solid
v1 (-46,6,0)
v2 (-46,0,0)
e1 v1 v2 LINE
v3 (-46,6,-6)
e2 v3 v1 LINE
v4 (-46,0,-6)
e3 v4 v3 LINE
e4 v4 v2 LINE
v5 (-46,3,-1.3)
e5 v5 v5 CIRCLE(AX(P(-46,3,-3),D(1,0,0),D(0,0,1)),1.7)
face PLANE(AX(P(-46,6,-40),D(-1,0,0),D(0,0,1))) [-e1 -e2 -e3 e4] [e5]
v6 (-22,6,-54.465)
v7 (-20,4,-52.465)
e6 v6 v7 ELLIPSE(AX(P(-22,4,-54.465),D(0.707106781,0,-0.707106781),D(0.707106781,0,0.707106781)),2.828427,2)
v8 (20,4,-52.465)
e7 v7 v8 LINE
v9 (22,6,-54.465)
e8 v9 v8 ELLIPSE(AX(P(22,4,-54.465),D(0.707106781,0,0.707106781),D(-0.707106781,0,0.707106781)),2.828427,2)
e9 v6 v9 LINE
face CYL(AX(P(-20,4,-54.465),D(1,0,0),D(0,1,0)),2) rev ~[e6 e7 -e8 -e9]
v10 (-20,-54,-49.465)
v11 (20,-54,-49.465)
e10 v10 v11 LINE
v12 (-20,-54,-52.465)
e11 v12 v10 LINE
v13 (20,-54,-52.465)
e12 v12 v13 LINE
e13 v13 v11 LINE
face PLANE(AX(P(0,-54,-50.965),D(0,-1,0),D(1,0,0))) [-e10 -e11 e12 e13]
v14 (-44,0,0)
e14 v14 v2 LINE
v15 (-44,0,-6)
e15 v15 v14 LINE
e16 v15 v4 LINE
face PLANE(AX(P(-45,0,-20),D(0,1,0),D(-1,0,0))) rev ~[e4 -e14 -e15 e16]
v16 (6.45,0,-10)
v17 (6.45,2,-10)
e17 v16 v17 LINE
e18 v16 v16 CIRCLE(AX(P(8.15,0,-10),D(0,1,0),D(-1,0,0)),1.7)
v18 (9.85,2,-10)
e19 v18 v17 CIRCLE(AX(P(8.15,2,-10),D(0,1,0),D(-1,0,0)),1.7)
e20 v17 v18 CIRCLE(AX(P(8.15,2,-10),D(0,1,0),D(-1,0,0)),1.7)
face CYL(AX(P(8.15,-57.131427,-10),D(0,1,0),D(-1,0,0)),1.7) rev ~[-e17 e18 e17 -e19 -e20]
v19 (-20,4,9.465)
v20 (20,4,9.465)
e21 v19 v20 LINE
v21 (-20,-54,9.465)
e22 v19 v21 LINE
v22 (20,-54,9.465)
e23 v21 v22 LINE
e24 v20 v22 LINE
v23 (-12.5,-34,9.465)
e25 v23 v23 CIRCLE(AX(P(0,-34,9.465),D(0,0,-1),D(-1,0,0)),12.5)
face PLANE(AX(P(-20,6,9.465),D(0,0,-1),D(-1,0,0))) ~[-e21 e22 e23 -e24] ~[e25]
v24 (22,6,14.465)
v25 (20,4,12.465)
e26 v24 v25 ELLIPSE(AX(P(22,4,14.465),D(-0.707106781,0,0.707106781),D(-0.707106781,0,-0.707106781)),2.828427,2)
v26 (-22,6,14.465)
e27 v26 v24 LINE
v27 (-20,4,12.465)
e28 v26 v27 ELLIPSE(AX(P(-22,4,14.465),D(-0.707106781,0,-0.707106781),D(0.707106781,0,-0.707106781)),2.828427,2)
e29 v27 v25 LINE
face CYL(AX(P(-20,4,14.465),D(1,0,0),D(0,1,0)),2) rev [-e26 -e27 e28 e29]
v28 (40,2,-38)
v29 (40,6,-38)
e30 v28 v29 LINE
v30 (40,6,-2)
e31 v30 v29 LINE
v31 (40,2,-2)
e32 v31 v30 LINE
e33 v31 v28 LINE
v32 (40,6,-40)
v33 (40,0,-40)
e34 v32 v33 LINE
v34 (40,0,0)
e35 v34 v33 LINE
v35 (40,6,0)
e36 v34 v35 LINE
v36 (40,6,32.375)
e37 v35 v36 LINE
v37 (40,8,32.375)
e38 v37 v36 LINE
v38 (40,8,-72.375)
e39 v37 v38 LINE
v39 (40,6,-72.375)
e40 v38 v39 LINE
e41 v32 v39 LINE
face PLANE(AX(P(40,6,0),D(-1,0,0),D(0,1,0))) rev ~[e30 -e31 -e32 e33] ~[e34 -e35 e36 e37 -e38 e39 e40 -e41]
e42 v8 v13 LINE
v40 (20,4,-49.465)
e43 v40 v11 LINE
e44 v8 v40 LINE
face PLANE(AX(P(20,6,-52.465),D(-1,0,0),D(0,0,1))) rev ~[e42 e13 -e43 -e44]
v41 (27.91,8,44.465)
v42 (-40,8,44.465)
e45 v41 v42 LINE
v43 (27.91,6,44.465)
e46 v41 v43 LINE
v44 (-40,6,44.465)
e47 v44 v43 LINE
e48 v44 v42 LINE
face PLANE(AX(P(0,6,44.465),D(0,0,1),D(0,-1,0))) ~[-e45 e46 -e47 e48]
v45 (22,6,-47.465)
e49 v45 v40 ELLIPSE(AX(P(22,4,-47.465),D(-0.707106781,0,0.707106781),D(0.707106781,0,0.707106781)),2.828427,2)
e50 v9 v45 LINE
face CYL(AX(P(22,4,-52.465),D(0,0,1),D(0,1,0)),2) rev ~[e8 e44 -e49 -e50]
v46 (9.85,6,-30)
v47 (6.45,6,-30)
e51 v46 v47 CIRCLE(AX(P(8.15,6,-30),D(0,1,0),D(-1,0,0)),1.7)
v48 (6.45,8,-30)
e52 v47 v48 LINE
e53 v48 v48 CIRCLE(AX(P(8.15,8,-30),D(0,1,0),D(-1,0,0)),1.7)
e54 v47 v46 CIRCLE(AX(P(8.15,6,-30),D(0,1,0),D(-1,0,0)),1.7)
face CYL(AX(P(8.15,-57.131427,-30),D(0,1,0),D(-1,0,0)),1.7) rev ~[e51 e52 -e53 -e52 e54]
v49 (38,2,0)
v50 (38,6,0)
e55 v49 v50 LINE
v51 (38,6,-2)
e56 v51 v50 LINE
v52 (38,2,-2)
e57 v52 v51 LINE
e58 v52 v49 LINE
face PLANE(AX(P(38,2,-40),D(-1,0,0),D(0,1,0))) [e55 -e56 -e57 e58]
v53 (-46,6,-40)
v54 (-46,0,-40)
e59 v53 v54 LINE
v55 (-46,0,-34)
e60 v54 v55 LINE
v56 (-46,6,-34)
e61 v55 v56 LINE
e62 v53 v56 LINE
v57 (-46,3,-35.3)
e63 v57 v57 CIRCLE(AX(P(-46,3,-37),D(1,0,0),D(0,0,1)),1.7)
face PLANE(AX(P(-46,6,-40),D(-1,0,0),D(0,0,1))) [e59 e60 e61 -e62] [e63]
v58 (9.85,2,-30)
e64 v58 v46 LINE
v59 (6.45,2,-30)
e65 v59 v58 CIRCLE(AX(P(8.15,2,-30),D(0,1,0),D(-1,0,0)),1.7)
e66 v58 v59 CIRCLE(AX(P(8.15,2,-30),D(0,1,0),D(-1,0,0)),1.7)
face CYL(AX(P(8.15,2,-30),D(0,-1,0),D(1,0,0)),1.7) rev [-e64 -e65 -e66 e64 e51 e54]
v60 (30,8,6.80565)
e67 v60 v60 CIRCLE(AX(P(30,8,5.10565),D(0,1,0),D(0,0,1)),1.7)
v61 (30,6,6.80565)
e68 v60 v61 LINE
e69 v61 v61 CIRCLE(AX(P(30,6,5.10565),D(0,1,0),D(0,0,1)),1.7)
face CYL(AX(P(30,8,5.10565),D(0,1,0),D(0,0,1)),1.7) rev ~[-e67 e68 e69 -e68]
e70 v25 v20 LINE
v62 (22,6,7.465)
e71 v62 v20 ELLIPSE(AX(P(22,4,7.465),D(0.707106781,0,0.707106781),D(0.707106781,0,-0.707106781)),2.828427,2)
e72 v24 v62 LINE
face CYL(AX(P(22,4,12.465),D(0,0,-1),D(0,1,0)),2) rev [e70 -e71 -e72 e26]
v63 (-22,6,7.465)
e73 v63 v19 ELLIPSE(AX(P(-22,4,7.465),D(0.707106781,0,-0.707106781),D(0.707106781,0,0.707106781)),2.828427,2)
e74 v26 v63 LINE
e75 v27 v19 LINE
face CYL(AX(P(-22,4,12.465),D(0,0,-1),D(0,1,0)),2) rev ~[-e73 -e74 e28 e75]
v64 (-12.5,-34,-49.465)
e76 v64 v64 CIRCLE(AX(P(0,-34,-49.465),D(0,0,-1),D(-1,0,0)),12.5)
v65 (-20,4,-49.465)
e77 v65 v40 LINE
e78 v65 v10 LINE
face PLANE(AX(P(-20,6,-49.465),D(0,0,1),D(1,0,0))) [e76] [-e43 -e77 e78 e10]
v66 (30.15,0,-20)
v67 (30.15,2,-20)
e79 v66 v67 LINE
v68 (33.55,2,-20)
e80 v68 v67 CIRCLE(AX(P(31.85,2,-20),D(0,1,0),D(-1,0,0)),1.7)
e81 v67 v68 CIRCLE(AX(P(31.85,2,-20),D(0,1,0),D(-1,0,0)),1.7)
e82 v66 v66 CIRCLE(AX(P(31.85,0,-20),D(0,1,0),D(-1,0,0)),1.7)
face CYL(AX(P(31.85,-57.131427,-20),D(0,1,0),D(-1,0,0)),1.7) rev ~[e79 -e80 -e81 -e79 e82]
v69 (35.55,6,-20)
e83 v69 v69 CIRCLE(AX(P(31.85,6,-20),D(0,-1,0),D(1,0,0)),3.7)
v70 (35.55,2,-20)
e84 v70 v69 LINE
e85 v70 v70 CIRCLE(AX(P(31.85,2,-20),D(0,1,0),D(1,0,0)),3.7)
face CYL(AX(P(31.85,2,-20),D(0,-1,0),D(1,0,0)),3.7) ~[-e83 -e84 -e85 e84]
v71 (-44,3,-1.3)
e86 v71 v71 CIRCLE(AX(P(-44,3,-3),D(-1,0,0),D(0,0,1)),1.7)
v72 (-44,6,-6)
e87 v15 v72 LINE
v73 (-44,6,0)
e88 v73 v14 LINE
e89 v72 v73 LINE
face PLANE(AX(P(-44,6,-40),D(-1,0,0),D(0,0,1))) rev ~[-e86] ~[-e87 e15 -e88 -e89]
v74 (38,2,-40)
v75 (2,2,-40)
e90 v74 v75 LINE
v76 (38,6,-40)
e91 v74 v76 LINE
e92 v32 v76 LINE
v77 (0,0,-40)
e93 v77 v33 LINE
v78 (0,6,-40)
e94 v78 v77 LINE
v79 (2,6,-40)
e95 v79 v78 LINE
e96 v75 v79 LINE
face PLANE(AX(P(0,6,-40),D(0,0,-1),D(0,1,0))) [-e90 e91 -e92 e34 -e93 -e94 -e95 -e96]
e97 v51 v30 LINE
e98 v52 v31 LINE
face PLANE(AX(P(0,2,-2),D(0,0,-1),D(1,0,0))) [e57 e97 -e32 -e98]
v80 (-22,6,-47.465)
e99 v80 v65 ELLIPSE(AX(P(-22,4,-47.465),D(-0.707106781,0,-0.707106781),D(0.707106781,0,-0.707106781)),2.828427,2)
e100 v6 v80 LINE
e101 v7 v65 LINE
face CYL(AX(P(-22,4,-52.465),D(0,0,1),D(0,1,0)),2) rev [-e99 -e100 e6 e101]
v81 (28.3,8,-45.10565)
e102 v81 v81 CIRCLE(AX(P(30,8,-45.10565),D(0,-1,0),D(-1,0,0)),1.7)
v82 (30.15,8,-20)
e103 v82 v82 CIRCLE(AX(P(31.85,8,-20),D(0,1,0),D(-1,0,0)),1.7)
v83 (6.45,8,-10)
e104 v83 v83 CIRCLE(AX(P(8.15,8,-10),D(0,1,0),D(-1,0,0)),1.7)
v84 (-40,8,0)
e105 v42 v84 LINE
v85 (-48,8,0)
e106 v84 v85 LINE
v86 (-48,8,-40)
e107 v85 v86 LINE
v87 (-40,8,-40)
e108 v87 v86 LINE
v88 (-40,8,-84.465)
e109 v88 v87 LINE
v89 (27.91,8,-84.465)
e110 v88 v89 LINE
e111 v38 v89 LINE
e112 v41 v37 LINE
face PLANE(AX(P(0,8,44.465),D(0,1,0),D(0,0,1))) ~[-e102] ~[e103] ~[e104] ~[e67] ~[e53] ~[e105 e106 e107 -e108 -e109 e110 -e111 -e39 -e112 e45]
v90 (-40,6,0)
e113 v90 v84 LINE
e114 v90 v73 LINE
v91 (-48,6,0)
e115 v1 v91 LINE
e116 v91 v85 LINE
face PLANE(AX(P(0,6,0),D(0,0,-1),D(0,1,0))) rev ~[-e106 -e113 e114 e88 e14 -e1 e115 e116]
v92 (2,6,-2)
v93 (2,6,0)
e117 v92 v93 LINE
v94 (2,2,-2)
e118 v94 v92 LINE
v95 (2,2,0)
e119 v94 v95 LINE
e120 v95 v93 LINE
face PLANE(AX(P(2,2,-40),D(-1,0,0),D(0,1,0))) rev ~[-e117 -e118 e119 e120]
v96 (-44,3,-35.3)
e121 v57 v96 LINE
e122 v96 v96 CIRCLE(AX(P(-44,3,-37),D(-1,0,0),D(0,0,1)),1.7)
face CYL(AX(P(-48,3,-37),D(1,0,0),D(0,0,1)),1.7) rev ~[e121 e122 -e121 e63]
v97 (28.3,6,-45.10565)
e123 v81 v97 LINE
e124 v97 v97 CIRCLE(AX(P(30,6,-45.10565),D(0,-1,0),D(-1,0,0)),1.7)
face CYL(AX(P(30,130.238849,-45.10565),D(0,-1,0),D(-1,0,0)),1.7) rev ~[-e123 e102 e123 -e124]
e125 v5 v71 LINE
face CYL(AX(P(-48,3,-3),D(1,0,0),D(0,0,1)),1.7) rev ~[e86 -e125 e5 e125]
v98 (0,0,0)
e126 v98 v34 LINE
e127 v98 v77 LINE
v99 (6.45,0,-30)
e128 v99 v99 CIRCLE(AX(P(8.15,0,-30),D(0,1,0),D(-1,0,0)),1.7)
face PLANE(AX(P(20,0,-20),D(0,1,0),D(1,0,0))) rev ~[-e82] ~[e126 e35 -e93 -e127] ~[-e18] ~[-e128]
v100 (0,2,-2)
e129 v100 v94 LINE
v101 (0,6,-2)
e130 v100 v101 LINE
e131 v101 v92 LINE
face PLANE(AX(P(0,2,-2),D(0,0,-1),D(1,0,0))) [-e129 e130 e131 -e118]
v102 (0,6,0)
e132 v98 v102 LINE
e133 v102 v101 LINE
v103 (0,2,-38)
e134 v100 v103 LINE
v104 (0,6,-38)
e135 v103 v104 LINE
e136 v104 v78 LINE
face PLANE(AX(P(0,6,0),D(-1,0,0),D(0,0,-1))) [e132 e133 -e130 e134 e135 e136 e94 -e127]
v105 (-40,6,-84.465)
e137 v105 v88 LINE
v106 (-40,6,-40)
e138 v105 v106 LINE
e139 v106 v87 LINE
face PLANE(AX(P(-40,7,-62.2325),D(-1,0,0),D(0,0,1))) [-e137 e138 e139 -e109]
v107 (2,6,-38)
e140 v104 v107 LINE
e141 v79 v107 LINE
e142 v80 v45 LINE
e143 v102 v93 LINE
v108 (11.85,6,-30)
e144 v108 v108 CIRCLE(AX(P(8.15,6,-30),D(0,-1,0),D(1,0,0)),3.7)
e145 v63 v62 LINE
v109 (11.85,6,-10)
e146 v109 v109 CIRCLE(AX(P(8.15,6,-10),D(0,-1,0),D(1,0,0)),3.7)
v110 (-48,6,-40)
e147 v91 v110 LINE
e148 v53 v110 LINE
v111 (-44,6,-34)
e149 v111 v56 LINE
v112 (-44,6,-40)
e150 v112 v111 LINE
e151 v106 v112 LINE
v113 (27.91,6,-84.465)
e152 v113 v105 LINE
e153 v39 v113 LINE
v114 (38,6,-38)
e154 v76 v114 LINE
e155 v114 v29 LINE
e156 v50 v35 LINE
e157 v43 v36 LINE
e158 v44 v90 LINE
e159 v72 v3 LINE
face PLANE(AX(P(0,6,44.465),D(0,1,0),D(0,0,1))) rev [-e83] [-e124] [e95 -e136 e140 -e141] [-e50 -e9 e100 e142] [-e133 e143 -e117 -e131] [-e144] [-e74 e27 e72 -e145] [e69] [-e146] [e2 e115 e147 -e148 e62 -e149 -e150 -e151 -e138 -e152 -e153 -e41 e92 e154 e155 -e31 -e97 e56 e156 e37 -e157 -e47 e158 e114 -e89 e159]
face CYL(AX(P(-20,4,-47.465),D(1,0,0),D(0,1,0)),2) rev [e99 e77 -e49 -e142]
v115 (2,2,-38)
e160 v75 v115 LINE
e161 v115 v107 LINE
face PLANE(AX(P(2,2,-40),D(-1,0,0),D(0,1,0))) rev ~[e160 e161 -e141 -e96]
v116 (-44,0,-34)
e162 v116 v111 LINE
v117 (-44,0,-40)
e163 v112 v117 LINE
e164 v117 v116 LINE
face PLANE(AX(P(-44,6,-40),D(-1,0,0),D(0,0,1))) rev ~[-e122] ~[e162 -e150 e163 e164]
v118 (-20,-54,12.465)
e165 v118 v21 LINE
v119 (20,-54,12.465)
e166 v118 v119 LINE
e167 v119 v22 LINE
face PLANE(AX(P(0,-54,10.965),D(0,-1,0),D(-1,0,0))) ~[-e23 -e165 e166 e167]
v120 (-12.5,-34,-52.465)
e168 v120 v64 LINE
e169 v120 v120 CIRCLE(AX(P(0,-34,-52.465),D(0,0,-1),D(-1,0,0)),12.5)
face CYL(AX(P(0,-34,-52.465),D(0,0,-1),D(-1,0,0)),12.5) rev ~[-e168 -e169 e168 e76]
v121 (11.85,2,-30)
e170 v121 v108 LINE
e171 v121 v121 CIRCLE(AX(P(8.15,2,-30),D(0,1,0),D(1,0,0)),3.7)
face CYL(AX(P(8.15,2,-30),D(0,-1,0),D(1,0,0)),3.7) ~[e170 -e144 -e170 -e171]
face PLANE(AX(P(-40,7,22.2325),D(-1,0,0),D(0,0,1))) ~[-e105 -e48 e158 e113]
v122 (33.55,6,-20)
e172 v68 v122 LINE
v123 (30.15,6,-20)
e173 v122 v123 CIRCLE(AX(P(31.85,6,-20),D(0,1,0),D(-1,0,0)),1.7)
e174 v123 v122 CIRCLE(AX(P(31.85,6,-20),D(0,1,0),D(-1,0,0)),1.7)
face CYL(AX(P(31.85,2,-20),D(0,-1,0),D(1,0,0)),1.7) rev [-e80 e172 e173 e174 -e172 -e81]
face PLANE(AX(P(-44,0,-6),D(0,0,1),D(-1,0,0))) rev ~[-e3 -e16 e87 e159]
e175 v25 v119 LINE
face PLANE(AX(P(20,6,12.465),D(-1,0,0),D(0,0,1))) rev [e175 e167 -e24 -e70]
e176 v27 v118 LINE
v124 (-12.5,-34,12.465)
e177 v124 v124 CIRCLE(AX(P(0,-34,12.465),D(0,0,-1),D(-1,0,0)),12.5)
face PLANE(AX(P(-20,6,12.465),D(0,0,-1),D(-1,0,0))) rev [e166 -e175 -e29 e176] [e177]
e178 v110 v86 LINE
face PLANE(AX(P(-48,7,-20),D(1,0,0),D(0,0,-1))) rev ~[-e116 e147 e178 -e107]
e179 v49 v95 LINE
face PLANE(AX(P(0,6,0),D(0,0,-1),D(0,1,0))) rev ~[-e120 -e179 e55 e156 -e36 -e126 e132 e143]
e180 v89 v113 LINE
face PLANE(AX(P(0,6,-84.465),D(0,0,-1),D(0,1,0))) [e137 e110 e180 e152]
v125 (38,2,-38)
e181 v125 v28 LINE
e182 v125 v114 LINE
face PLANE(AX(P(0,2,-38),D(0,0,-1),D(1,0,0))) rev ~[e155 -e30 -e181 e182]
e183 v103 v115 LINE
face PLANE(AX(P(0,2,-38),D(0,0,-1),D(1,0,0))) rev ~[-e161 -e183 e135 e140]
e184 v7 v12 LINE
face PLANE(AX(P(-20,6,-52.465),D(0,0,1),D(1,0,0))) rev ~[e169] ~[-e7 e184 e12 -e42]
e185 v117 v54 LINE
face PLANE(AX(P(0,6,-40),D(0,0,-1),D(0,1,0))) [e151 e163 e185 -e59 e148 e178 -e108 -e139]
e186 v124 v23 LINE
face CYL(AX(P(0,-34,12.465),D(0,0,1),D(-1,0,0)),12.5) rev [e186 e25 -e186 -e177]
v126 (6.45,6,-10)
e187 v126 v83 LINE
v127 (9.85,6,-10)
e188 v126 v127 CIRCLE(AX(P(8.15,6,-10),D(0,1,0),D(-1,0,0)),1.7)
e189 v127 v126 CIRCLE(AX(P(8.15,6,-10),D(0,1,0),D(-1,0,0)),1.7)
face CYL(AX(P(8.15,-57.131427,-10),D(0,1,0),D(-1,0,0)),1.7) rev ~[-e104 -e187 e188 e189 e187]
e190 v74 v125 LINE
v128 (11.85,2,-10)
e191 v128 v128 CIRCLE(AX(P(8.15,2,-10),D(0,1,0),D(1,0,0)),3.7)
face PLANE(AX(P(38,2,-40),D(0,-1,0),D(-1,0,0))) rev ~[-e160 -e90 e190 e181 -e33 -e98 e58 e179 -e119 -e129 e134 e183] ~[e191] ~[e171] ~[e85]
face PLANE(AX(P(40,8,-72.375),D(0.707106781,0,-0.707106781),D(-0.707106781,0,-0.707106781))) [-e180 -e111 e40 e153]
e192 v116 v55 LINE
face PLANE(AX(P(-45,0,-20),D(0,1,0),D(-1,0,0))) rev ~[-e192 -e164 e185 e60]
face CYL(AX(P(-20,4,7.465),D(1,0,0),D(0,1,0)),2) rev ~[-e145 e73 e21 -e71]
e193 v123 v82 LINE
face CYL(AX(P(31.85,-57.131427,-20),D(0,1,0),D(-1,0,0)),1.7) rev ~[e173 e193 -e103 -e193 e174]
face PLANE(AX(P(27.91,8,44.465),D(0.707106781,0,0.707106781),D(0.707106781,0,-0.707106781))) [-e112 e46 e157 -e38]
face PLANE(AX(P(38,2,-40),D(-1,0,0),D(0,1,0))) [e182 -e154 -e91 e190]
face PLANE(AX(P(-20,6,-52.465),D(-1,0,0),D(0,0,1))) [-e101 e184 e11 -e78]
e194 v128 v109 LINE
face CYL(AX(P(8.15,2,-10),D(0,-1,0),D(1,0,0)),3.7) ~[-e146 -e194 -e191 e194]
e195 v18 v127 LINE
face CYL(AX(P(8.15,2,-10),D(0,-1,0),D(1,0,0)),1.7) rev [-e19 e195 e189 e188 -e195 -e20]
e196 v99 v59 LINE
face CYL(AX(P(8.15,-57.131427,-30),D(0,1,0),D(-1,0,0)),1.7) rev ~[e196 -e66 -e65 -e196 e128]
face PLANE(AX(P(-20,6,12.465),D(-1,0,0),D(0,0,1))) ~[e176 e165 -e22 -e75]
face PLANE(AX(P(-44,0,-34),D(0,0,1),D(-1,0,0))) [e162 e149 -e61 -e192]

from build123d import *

# Parameters (mm, degrees)
SKETCH1_W                = 40
SKETCH1_H                = 40
BOSS_EXTRUDE1_DEPTH      = 2
SKETCH10_W               = 40
SKETCH10_H               = 2
BOSS_EXTRUDE4_DEPTH      = 4
SKETCH11_W               = 40
SKETCH11_H               = 40
BOSS_EXTRUDE5_DEPTH      = 2
M3_CLEARANCE_HOLE1_D     = 3.4
SKETCH5_W                = 40
SKETCH5_H                = 2
BOSS_EXTRUDE2_DEPTH      = 48
SKETCH6_W                = 2
SKETCH6_H                = 40
BOSS_EXTRUDE3_DEPTH      = 6
SKETCH7_W                = 2
SKETCH7_H                = 28
CUT_EXTRUDE1_DEPTH       = 6
M3_CLEARANCE_HOLE2_D     = 3.4
M3_CLEARANCE_HOLE2_DEPTH = 2
M3_CLEARANCE_HOLE2_TIP   = 1.021463052
SKETCH12_W               = 36
SKETCH12_H               = 4
CUT_EXTRUDE2_DEPTH       = 63.992062992
EXTRUDE_THIN1_REACH      = 64.769
SKETCH13_R               = 3.7
SKETCH13_R_2             = 1.7
SKETCH14_W               = 40
SKETCH14_H               = 2
BOSS_EXTRUDE6_DEPTH      = 44.465
M3_CLEARANCE_HOLE3_D     = 3.4
SKETCH19_W               = 40
SKETCH19_H               = 2
BOSS_EXTRUDE7_DEPTH      = 44.465
SKETCH20_R               = 1.7
CUT_EXTRUDE3_DEPTH       = 98.479927293
CUT_EXTRUDE4_DEPTH       = 98.479927293
SKETCH24_W               = 44.465
SKETCH24_H               = 2
BOSS_EXTRUDE9_DEPTH      = 40
SKETCH22_W               = 40
SKETCH22_H               = 3
BOSS_EXTRUDE8_DEPTH      = 60
FILLET1_R                = 2
CUT_EXTRUDE5_REACH       = 122.894
SKETCH23_R               = 12.5
FILLET1_OF_MIRROR1_R     = 2


with BuildPart() as part:
    # Sketch1 → Boss-Extrude1 (new body)
    with BuildSketch(Plane(origin=(0, 0, 0), x_dir=(1, 0, 0), z_dir=(0, 1, 0))):
        with Locations((20, 20)):
            Rectangle(SKETCH1_W, SKETCH1_H)
    extrude(amount=BOSS_EXTRUDE1_DEPTH)

    # Sketch10 → Boss-Extrude4 (add)
    with BuildSketch(Plane(origin=(0, 2, 0), x_dir=(1, 0, 0), z_dir=(0, 1, 0))):
        with Locations((20, 1)):
            Rectangle(SKETCH10_W, SKETCH10_H)
        with Locations((20, 39)):
            Rectangle(SKETCH10_W, SKETCH10_H)
    extrude(amount=BOSS_EXTRUDE4_DEPTH)

    # Sketch11 → Boss-Extrude5 (add)
    with BuildSketch(Plane(origin=(0, 6, 0), x_dir=(1, 0, 0), z_dir=(0, 1, 0))):
        with Locations((20, 20)):
            Rectangle(SKETCH11_W, SKETCH11_H)
    extrude(amount=BOSS_EXTRUDE5_DEPTH)

    # M3 Clearance Hole1 (through all)
    with Locations(Plane.XZ):
        with Locations((8.15, -30), (8.15, -10), (31.85, -20)):
            Hole(M3_CLEARANCE_HOLE1_D / 2)

    # Sketch5 → Boss-Extrude2 (add)
    with BuildSketch(Plane(origin=(0, 0, 0), x_dir=(0, 0, -1), z_dir=(1, 0, 0))):
        with Locations((20, 7)):
            Rectangle(SKETCH5_W, SKETCH5_H)
    extrude(amount=-BOSS_EXTRUDE2_DEPTH)

    # Sketch6 → Boss-Extrude3 (add)
    with BuildSketch(Plane(origin=(-6, 6, 0), x_dir=(-1, 0, 0), z_dir=(0, 1, 0))):
        with Locations((39, -20)):
            Rectangle(SKETCH6_W, SKETCH6_H)
    extrude(amount=-BOSS_EXTRUDE3_DEPTH)

    # Sketch7 → Cut-Extrude1 (cut)
    with BuildSketch(Plane(origin=(46, 0, 0), x_dir=(-1, 0, 0), z_dir=(0, 1, 0))):
        with Locations((91, -20)):
            Rectangle(SKETCH7_W, SKETCH7_H)
    extrude(amount=CUT_EXTRUDE1_DEPTH, mode=Mode.SUBTRACT)

    # M3 Clearance Hole2
    with Locations(Plane(origin=(-46, 0, 0), x_dir=(0, 0, -1), z_dir=(-1, 0, 0))):
        with Locations((3, -3), (37, -3)):
            Hole(M3_CLEARANCE_HOLE2_D / 2, depth=M3_CLEARANCE_HOLE2_DEPTH)
            with Locations((0, 0, -(M3_CLEARANCE_HOLE2_DEPTH + M3_CLEARANCE_HOLE2_TIP / 2))):  # 118° drill point
                Cone(0, M3_CLEARANCE_HOLE2_D / 2, M3_CLEARANCE_HOLE2_TIP, mode=Mode.SUBTRACT)

    # Sketch12 → Cut-Extrude2 (cut, through all)
    with BuildSketch(Plane(origin=(0, 0, -40), x_dir=(-1, 0, 0), z_dir=(0, 0, -1))):
        with Locations((-20, 4)):
            Rectangle(SKETCH12_W, SKETCH12_H)
    extrude(amount=-CUT_EXTRUDE2_DEPTH, mode=Mode.SUBTRACT)

    # Sketch13 → Extrude-Thin1 (add, up to next)
    with BuildSketch(Plane(origin=(0, 2, 0), x_dir=(1, 0, 0), z_dir=(0, 1, 0)), mode=Mode.PRIVATE) as extrude_thin1_sk1:
        with Locations((31.85, 20)):
            Circle(SKETCH13_R)
        with Locations((31.85, 20)):
            Circle(SKETCH13_R_2, mode=Mode.SUBTRACT)
    extrude_thin1_tool1 = extrude(extrude_thin1_sk1.sketch, amount=EXTRUDE_THIN1_REACH, mode=Mode.PRIVATE) - part.part
    # Sketch13 → Extrude-Thin1 (add, up to next)
    with BuildSketch(Plane(origin=(0, 2, 0), x_dir=(1, 0, 0), z_dir=(0, 1, 0)), mode=Mode.PRIVATE) as extrude_thin1_sk2:
        with Locations((8.15, 10)):
            Circle(SKETCH13_R)
        with Locations((8.15, 10)):
            Circle(SKETCH13_R_2, mode=Mode.SUBTRACT)
    extrude_thin1_tool2 = extrude(extrude_thin1_sk2.sketch, amount=EXTRUDE_THIN1_REACH, mode=Mode.PRIVATE) - part.part
    # Sketch13 → Extrude-Thin1 (add, up to next)
    with BuildSketch(Plane(origin=(0, 2, 0), x_dir=(1, 0, 0), z_dir=(0, 1, 0)), mode=Mode.PRIVATE) as extrude_thin1_sk3:
        with Locations((8.15, 30)):
            Circle(SKETCH13_R)
        with Locations((8.15, 30)):
            Circle(SKETCH13_R_2, mode=Mode.SUBTRACT)
    extrude_thin1_tool3 = extrude(extrude_thin1_sk3.sketch, amount=EXTRUDE_THIN1_REACH, mode=Mode.PRIVATE) - part.part
    add(extrude_thin1_tool1.solids().sort_by_distance((28.254652, 2, -20))[0])
    add(extrude_thin1_tool2.solids().sort_by_distance((4.554652, 2, -10))[0])
    add(extrude_thin1_tool3.solids().sort_by_distance((4.554652, 2, -30))[0])

    # Sketch14 → Boss-Extrude6 (add)
    with BuildSketch(Plane(origin=(0, 0, -40), x_dir=(-1, 0, 0), z_dir=(0, 0, -1))):
        with Locations((-20, 7)):
            Rectangle(SKETCH14_W, SKETCH14_H)
    extrude(amount=BOSS_EXTRUDE6_DEPTH)

    # M3 Clearance Hole3 (through all)
    with Locations(Plane(origin=(0, 8, 0), x_dir=(1, 0, 0), z_dir=(0, 1, 0))):
        with Locations((30, 45.10564971)):
            Hole(M3_CLEARANCE_HOLE3_D / 2)

    # Sketch19 → Boss-Extrude7 (add)
    with BuildSketch(Plane.XY):
        with Locations((20, 7)):
            Rectangle(SKETCH19_W, SKETCH19_H)
    extrude(amount=BOSS_EXTRUDE7_DEPTH)

    # Sketch20 → Cut-Extrude3 (cut, through all)
    with BuildSketch(Plane(origin=(0, 8, 0), x_dir=(1, 0, 0), z_dir=(0, 1, 0))):
        with Locations(Location((30, -5.10564971, 0), (0, 0, 270))):
            Circle(SKETCH20_R)
    extrude(amount=-CUT_EXTRUDE3_DEPTH, mode=Mode.SUBTRACT)

    # Sketch21 → Cut-Extrude4 (cut, through all)
    with BuildSketch(Plane(origin=(0, 8, 0), x_dir=(1, 0, 0), z_dir=(0, 1, 0))):
        Polygon((27.91, -44.465), (40, -32.375), (40, -44.465), align=None)
        Polygon((27.91, 84.465), (40, 84.465), (40, 72.375), align=None)
    extrude(amount=-CUT_EXTRUDE4_DEPTH, mode=Mode.SUBTRACT)

    # Sketch24 → Boss-Extrude9 (add)
    with BuildSketch(Plane.ZY):
        with Locations((-62.2325, 7)):
            Rectangle(SKETCH24_W, SKETCH24_H)
    boss_extrude9 = extrude(amount=BOSS_EXTRUDE9_DEPTH)

    # Sketch22 → Boss-Extrude8 (add)
    with BuildSketch(Plane.XZ.offset(-6)):
        with Locations((0, -50.965)):
            Rectangle(SKETCH22_W, SKETCH22_H)
    boss_extrude8 = extrude(amount=BOSS_EXTRUDE8_DEPTH)

    # Fillet1
    fillet1_edges = [part.edges().sort_by_distance(p)[0] for p in [
        (20, 6, -50.965),
        (0, 6, -49.465),
        (-20, 6, -50.965),
        (0, 6, -52.465),
    ]]
    fillet(fillet1_edges, radius=FILLET1_R)

    # Sketch23 → Cut-Extrude5 (cut, up to next)
    with BuildSketch(Plane(origin=(0, 0, -52.465), x_dir=(-1, 0, 0), z_dir=(0, 0, -1)), mode=Mode.PRIVATE) as cut_extrude5_sk1:
        with Locations((0, -34)):
            Circle(SKETCH23_R)
    cut_extrude5_tool1 = extrude(cut_extrude5_sk1.sketch, amount=-CUT_EXTRUDE5_REACH, mode=Mode.PRIVATE) & part.part
    cut_extrude5 = cut_extrude5_tool1.solids().sort_by_distance((0, -34, -52.465))[0]
    add(cut_extrude5, mode=Mode.SUBTRACT)

    # Mirror1: Boss-Extrude9, Boss-Extrude8, Cut-Extrude5 across plane
    add(boss_extrude9.mirror(Plane(origin=(0, 0, -20), x_dir=(1, 0, 0), z_dir=(0, 0, -1))))
    add(boss_extrude8.mirror(Plane(origin=(0, 0, -20), x_dir=(1, 0, 0), z_dir=(0, 0, -1))))
    add(cut_extrude5.mirror(Plane(origin=(0, 0, -20), x_dir=(1, 0, 0), z_dir=(0, 0, -1))), mode=Mode.SUBTRACT)

    # Fillet1 of Mirror1
    fillet1_of_mirror1_edges = [part.edges().sort_by_distance(p)[0] for p in [
        (20, 6, 10.965),
        (0, 6, 9.465),
        (-20, 6, 10.965),
        (0, 6, 12.465),
    ]]
    fillet(fillet1_of_mirror1_edges, radius=FILLET1_OF_MIRROR1_R)


solid = part.part
